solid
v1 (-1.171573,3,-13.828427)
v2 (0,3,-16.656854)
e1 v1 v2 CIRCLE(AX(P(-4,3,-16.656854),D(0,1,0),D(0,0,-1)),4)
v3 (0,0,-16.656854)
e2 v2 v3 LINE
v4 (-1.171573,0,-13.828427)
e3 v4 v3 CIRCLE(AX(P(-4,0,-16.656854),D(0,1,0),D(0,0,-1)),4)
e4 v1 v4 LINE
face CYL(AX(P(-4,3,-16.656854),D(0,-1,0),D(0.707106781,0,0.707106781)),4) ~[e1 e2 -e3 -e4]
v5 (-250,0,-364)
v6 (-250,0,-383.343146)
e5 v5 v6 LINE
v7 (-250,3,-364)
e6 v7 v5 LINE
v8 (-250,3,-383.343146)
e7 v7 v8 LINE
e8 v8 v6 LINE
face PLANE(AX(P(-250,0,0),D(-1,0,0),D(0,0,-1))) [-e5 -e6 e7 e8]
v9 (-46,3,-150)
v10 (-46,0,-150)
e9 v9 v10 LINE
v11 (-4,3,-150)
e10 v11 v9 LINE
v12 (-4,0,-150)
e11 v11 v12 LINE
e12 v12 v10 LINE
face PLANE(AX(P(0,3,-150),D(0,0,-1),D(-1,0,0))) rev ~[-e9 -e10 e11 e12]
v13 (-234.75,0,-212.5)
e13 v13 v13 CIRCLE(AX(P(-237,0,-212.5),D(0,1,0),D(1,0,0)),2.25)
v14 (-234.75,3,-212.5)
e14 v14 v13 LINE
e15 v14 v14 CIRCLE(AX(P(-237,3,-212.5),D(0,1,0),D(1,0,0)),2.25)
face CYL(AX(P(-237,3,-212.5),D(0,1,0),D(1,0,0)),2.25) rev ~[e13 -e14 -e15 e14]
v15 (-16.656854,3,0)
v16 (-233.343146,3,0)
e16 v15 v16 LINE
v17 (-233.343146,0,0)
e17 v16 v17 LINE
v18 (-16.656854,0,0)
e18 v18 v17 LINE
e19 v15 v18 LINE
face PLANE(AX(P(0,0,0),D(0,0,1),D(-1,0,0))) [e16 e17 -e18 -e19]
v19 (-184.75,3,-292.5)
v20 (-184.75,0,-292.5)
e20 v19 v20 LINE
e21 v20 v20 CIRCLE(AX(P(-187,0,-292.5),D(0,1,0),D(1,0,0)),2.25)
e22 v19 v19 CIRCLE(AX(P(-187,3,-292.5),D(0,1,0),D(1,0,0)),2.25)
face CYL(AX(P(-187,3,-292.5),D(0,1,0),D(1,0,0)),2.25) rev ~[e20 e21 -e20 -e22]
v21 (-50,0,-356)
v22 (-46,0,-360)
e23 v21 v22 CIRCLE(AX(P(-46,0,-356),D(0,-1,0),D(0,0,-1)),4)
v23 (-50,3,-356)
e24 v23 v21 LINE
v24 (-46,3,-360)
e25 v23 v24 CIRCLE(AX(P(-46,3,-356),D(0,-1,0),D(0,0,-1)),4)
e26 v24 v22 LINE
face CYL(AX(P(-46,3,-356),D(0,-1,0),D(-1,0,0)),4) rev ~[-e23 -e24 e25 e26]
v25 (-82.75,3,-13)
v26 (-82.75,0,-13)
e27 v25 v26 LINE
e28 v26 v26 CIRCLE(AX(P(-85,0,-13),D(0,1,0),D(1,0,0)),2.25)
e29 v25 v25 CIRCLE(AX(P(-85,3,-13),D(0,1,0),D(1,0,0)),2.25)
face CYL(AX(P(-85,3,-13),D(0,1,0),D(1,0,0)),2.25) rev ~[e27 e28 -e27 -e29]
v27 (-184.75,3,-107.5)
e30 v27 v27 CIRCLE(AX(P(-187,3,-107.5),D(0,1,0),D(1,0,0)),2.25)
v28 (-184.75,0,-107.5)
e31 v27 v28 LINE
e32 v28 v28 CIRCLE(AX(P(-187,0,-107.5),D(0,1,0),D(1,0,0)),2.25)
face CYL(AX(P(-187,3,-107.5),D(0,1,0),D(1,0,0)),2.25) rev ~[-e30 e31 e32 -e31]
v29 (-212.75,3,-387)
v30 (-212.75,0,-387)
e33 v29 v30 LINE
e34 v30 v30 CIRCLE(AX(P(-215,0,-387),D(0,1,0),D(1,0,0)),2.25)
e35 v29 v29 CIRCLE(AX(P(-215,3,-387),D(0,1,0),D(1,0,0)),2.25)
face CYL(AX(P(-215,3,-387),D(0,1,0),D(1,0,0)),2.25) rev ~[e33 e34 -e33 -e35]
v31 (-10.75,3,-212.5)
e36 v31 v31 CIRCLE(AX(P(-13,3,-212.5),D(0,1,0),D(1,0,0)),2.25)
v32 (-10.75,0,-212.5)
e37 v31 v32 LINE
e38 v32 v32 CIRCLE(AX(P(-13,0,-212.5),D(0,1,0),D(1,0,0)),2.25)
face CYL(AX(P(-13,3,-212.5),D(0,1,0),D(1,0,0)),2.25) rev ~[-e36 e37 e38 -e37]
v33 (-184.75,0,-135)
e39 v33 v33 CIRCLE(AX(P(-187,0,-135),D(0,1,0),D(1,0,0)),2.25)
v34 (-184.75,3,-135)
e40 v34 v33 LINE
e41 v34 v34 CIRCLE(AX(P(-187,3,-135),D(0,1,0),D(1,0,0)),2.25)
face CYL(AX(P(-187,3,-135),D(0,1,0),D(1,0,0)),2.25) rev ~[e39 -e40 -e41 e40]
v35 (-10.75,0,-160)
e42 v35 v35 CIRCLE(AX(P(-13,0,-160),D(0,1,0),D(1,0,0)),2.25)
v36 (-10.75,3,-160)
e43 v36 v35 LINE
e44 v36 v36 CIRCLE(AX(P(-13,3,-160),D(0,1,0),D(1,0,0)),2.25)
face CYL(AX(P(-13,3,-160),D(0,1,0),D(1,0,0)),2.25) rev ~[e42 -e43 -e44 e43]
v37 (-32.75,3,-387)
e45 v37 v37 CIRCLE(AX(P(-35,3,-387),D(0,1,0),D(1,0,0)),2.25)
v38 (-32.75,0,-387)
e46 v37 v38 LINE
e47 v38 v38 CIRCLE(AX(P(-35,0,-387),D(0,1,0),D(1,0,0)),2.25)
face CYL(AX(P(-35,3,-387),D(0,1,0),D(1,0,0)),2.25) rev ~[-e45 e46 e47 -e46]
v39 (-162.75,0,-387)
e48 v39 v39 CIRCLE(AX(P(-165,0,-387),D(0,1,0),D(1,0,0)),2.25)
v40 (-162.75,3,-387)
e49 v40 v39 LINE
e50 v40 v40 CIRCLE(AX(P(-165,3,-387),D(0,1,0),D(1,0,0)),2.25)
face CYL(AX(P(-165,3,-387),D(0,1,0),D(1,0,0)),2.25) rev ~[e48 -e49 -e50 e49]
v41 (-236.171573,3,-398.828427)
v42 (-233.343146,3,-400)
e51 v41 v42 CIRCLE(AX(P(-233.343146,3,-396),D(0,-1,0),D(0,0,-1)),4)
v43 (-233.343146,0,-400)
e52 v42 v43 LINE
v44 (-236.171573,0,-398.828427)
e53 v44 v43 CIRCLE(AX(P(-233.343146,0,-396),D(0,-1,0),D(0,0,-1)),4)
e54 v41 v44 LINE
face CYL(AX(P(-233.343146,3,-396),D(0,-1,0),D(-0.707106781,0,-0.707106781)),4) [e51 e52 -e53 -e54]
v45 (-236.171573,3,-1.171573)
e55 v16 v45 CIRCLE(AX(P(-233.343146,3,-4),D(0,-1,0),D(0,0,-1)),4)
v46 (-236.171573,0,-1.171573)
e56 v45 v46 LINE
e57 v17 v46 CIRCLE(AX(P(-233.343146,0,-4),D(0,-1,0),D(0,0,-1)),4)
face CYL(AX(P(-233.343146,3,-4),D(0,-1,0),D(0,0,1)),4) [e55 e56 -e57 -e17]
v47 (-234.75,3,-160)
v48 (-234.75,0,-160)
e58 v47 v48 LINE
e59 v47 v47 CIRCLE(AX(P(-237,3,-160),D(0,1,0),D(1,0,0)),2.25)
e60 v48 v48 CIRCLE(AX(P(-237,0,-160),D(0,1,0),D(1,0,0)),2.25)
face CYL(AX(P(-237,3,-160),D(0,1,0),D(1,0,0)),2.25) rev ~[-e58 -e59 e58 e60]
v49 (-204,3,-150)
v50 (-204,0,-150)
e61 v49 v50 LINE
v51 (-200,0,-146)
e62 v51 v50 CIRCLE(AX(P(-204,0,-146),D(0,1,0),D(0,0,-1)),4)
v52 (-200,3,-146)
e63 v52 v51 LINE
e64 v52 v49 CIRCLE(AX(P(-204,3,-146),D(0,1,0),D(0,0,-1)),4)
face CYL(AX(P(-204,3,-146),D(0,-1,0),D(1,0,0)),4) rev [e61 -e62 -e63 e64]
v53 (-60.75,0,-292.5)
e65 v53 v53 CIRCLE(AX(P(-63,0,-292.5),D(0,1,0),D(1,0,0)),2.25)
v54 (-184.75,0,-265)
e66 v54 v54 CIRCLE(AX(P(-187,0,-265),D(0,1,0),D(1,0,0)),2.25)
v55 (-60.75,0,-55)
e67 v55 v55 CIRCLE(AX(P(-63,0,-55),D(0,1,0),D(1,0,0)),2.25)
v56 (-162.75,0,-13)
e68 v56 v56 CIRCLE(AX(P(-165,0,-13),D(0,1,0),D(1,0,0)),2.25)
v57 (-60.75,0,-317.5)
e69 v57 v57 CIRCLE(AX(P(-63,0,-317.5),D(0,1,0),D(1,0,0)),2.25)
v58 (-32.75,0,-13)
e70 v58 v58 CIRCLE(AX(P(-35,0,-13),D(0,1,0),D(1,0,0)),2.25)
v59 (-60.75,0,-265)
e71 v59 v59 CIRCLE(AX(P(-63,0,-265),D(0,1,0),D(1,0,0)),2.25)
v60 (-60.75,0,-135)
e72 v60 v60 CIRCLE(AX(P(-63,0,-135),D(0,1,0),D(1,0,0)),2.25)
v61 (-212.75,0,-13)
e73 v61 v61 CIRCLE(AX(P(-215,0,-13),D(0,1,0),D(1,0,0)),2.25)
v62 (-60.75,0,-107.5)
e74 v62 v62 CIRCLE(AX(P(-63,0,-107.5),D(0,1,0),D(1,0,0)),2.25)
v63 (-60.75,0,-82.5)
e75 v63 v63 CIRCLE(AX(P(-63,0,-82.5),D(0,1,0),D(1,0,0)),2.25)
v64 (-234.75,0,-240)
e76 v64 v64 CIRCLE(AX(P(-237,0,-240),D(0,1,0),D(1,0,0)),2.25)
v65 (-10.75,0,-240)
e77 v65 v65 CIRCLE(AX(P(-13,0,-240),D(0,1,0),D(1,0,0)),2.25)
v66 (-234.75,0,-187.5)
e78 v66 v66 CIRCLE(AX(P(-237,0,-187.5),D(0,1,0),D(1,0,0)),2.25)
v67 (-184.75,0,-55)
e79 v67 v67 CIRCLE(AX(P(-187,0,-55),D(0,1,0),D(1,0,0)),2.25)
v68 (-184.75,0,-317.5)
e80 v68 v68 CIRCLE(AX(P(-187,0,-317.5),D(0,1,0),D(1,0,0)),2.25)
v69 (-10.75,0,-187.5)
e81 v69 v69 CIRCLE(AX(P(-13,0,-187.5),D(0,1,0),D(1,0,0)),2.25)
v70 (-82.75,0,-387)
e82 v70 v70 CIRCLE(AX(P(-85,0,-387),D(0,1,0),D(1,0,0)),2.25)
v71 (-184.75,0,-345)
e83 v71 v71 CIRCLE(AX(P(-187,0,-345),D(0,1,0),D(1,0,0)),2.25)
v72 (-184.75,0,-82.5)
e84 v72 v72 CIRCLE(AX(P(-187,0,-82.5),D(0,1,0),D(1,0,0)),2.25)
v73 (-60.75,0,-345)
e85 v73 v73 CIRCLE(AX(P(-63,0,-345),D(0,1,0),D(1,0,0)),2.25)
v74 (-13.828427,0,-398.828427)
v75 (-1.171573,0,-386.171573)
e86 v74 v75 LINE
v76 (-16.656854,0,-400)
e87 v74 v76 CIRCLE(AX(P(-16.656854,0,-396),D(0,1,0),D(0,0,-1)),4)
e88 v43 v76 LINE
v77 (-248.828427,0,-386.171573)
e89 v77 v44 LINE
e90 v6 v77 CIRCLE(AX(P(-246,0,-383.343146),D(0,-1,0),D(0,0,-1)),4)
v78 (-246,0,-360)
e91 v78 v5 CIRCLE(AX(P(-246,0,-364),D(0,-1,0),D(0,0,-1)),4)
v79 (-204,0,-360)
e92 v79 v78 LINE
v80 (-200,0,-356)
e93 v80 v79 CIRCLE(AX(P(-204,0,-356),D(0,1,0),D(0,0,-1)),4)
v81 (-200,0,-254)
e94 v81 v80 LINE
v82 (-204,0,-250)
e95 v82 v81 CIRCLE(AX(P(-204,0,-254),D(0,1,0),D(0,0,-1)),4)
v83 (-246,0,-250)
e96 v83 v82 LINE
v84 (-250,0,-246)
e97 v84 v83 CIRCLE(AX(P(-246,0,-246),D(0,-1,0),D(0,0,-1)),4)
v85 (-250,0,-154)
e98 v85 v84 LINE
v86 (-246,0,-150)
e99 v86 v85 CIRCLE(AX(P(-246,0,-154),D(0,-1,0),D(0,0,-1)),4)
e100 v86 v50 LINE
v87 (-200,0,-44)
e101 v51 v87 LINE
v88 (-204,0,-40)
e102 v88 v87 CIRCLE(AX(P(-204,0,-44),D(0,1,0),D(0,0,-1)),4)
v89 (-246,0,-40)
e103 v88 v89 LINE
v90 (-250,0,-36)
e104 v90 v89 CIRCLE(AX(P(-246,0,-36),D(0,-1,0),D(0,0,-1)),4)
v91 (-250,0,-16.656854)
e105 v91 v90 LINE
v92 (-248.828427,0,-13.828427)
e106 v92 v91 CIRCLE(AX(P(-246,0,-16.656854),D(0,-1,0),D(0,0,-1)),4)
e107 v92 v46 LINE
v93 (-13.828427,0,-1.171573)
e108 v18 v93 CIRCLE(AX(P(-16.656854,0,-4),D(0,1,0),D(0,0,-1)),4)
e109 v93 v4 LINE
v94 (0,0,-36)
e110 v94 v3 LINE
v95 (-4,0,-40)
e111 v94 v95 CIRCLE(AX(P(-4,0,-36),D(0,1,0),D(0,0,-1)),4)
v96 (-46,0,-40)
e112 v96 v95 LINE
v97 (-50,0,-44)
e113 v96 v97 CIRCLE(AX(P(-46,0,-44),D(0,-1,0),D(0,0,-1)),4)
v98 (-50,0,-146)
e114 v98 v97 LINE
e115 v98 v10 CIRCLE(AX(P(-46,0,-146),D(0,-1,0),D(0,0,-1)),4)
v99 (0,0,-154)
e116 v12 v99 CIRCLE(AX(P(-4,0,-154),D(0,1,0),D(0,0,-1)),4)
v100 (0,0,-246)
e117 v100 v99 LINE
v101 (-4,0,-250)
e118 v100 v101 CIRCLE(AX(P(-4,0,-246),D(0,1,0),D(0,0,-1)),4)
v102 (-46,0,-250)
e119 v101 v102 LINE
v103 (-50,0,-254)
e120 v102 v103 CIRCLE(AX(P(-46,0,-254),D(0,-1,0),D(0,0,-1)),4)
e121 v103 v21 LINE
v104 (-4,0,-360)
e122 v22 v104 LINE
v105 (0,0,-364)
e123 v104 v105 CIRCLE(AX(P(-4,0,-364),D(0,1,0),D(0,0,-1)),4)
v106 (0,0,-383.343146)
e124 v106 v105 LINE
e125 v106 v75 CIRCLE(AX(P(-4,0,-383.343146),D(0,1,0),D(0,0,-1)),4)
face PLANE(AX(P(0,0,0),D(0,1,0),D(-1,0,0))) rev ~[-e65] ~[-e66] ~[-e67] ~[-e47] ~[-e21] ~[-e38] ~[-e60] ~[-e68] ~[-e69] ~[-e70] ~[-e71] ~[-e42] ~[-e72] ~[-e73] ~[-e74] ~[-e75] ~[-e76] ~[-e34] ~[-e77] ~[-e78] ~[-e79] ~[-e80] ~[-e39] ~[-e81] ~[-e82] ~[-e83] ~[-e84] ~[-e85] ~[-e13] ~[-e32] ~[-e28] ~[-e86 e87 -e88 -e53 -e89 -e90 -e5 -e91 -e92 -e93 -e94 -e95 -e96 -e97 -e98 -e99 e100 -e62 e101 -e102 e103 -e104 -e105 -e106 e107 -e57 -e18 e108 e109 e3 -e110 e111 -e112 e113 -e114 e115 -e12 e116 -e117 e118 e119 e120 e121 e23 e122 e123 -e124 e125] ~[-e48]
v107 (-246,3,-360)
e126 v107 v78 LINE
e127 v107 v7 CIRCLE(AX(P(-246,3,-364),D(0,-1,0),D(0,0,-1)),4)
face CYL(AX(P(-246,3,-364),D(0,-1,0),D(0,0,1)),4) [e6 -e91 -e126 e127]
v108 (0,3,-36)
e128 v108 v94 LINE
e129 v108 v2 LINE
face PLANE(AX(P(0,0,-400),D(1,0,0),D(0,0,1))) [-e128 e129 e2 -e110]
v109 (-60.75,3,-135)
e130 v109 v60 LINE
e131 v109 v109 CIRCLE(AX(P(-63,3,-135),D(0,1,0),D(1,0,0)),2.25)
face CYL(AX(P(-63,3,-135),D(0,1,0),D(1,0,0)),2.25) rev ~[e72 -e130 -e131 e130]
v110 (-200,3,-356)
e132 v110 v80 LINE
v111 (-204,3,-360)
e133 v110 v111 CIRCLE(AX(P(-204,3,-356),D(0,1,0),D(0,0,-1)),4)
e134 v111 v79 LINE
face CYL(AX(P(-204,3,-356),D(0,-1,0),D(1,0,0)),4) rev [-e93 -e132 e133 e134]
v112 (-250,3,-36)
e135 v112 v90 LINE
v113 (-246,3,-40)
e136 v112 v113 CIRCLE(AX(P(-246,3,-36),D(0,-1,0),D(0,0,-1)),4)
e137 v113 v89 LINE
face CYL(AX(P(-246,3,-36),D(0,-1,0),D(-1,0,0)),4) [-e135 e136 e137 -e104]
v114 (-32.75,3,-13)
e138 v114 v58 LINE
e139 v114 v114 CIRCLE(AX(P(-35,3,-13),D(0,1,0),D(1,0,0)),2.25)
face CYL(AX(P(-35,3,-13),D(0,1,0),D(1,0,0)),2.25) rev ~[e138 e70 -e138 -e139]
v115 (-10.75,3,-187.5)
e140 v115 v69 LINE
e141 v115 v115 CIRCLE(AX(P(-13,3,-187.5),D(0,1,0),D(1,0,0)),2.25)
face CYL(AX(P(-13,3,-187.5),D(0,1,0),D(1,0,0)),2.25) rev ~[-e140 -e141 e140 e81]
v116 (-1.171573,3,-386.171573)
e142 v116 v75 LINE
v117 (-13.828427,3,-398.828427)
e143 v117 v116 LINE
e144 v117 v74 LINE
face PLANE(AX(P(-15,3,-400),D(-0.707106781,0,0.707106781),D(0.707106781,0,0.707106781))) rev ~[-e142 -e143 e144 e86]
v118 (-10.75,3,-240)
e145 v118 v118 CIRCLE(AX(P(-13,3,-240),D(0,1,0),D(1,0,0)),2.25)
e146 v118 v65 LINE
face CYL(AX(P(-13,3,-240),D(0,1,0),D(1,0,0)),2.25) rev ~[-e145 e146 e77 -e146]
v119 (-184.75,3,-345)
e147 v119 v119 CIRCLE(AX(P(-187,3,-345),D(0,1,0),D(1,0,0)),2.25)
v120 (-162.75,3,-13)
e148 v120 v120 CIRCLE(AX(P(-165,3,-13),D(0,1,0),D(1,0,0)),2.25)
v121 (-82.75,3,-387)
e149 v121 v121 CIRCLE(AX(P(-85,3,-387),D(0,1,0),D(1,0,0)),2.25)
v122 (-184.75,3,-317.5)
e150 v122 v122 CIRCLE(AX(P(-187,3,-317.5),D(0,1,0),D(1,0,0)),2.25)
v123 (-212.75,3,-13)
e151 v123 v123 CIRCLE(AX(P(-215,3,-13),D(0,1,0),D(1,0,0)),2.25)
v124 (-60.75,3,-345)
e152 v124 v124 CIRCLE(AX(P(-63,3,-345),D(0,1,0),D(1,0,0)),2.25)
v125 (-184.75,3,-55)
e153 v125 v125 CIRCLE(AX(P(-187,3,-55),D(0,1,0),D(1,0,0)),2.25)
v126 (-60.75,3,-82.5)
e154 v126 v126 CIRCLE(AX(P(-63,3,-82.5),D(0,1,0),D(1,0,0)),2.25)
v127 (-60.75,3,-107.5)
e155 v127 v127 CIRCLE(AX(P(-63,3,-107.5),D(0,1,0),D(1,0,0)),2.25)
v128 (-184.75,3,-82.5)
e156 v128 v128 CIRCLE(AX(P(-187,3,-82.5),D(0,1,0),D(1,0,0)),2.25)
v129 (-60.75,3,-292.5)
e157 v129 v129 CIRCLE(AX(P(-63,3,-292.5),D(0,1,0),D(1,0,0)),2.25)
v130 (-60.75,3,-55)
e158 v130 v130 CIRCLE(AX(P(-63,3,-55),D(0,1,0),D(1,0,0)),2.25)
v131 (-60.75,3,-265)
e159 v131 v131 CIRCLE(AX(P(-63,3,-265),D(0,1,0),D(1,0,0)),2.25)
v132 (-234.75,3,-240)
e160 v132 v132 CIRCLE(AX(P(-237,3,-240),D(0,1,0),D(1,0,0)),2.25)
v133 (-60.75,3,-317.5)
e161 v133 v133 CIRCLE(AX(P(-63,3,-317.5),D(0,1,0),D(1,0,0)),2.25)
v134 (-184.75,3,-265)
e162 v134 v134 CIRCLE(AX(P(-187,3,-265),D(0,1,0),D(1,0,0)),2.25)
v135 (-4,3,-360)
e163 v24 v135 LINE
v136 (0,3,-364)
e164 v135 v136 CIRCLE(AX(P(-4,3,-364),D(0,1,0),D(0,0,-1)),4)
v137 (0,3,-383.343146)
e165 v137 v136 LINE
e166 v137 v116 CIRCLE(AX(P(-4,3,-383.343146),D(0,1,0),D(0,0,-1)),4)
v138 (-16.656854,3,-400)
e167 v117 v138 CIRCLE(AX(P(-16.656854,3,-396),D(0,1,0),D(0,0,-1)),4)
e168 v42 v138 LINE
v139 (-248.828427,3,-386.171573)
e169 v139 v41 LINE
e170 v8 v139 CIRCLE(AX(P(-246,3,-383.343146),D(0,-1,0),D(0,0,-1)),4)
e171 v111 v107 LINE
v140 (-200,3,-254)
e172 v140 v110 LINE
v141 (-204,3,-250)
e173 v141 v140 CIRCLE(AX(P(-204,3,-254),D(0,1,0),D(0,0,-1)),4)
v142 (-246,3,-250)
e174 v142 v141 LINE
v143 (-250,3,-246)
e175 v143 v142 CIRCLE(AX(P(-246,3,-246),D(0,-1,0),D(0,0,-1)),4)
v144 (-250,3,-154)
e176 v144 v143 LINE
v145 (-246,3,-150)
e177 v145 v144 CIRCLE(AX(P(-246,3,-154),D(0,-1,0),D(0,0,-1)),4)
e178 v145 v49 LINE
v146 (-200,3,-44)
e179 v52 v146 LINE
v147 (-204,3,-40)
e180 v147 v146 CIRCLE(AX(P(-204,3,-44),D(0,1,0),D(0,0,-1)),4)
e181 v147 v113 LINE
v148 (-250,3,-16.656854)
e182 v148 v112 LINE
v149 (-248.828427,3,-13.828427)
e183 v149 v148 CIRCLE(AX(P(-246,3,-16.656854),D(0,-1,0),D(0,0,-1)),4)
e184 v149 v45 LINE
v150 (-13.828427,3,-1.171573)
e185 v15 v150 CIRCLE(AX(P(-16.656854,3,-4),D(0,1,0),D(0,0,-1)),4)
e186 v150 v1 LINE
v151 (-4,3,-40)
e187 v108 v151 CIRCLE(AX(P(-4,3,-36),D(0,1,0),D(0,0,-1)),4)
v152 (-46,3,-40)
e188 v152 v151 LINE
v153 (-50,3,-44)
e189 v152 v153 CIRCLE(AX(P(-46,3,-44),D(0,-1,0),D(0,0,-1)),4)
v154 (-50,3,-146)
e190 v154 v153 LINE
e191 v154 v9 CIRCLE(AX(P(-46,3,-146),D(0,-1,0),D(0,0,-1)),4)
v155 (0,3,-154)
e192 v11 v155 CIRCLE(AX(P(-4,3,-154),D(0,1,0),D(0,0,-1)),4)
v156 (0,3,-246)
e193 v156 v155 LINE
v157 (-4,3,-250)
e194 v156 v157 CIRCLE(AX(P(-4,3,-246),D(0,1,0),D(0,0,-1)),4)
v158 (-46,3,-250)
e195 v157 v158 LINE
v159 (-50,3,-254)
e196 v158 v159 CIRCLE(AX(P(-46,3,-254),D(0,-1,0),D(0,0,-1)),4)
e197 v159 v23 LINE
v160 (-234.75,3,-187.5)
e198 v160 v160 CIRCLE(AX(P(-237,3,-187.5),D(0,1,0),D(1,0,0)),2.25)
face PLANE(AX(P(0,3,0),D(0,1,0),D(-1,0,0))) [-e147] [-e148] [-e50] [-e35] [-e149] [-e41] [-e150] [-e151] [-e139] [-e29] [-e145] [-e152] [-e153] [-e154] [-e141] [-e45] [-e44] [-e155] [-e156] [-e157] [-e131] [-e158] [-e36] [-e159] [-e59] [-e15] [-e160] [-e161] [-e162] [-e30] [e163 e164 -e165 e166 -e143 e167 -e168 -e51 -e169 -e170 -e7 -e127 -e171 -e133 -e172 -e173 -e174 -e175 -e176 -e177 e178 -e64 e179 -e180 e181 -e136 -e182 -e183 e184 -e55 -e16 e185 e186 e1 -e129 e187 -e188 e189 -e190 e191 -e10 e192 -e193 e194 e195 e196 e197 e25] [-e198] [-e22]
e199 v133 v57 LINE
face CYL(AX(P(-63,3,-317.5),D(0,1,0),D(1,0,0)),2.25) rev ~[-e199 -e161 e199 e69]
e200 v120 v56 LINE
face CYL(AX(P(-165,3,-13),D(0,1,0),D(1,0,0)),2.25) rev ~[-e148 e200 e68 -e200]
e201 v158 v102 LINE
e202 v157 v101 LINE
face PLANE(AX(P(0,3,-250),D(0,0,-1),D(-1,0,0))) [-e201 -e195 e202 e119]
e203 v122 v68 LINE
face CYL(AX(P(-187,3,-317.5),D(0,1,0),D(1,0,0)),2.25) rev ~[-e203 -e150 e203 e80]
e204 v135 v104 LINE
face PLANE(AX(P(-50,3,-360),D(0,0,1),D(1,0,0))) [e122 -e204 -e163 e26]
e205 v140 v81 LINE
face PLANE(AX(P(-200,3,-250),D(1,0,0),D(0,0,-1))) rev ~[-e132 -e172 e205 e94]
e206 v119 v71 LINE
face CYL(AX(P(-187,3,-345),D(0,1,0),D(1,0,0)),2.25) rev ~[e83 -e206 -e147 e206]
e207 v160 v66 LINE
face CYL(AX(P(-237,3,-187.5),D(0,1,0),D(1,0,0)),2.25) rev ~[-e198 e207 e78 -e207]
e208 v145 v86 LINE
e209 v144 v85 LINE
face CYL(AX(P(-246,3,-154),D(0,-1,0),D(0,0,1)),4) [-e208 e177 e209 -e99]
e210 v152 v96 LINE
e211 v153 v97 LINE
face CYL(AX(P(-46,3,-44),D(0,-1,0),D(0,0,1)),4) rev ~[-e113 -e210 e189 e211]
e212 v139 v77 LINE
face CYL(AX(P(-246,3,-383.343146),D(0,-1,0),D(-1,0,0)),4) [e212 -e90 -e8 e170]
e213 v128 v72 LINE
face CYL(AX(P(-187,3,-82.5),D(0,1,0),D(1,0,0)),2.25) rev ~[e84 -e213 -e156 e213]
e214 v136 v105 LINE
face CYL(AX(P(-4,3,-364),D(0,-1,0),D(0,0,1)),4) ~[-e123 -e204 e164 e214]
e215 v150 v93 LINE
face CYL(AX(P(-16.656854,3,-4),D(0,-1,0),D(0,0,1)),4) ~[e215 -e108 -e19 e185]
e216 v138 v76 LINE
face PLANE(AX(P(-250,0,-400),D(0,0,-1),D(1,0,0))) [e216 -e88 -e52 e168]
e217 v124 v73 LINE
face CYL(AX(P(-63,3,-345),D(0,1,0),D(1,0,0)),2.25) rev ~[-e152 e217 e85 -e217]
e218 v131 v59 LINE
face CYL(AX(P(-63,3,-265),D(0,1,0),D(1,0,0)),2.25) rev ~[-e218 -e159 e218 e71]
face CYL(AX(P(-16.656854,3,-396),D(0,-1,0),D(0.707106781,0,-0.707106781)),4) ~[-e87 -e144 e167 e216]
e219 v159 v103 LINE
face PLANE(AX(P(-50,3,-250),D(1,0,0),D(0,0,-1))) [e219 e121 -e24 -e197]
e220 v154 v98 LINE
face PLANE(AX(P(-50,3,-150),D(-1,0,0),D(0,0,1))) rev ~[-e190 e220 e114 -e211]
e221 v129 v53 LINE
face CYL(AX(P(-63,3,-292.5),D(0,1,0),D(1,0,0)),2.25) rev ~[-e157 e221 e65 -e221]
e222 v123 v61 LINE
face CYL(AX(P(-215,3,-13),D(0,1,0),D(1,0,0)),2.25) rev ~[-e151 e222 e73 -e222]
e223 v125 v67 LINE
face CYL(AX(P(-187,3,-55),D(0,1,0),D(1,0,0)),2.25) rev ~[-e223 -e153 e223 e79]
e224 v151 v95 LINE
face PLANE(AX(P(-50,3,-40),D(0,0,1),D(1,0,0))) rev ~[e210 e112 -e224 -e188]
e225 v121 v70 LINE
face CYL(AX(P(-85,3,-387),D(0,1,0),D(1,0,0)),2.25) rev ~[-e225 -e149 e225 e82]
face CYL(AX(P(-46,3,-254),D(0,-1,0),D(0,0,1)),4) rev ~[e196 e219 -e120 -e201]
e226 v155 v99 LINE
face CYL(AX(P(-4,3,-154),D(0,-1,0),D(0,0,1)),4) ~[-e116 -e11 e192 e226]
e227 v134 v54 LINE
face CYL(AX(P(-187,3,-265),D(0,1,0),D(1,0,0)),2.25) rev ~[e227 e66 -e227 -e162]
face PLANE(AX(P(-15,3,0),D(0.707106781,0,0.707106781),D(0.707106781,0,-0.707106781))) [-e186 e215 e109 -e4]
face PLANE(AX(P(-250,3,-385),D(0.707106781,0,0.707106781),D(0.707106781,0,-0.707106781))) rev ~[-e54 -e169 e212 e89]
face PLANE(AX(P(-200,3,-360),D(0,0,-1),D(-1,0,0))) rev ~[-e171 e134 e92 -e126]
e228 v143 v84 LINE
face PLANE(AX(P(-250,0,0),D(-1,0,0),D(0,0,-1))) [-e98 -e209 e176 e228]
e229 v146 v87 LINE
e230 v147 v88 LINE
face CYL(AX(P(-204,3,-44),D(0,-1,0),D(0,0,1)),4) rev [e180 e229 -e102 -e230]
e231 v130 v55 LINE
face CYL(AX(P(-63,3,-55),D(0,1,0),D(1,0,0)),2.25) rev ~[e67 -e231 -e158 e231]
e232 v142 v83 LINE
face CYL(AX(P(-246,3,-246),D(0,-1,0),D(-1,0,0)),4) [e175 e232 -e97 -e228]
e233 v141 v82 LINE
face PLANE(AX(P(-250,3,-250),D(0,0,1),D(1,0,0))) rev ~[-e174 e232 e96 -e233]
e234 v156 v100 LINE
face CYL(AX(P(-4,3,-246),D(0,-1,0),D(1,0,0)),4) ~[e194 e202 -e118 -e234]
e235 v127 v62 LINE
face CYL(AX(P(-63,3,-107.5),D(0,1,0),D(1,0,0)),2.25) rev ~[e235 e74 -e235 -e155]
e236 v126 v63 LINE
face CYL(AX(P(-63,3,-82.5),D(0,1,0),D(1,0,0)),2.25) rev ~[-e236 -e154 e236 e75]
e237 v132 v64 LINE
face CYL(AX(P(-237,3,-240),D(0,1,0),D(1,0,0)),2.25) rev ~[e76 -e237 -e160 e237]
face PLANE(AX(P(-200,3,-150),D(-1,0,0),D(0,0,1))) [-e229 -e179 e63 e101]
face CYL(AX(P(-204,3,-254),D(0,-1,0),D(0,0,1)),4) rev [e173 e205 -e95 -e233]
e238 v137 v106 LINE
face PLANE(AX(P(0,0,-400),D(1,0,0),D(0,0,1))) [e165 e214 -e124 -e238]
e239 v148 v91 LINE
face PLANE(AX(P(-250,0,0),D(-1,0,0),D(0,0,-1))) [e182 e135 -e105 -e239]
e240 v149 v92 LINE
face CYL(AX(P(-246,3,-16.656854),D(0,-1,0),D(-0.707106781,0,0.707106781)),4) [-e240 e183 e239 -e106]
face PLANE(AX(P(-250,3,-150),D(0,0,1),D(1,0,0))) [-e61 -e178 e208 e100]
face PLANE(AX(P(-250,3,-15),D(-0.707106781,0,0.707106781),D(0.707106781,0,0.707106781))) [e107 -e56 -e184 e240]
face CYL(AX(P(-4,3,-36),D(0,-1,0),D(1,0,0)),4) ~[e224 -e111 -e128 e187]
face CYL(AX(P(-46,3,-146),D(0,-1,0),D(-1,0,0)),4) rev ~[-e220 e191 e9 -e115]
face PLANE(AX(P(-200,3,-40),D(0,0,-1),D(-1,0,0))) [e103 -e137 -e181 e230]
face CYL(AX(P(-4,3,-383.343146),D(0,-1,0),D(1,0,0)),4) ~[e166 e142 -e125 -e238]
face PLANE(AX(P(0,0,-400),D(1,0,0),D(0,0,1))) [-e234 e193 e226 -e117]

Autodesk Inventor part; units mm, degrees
ref_plane "YZ Plane" through (0, 0, 0) normal (1, 0, 0) x (0, 1, 0)
ref_plane "XZ Plane" through (0, 0, 0) normal (0, 1, 0) x (-1, 0, 0)
ref_plane "XY Plane" through (0, 0, 0) normal (0, 0, 1) x (1, 0, 0)
sketch "Skizze1" plane through (0, 0, 0) normal (0, 1, 0) x (-1, 0, 0)
  line L0 (0, 0) -> (250, 0)
  line L1 (250, 0) -> (250, -400)
  line L2 (250, -400) -> (0, -400)
  line L3 (0, -400) -> (0, 0)
  dimension "d0" = 400
  dimension "d1" = 250
extrude "Extrusion1" add sketch "Skizze1" along normal blind 3
sketch "Skizze7" plane through (0, 3, 0) normal (0, 1, 0) x (1, 0, 0)
  line L0 (-250, 400) -> (-250, 0) projected
  line L1 (-250, 15) -> (-235, 0)
  line L2 (-250, 0) -> (0, 0) projected
  line L3 (-250, 15) -> (-250, 0)
  line L4 (-250, 0) -> (-235, 0)
  line L5 (0, 0) -> (0, 400) projected
  line L6 (0, 0) -> (-15, 0)
  line L7 (-15, 0) -> (0, 15)
  line L8 (-250, 400) -> (-250, 0) projected
  line L9 (-250, 200) -> (0, 200)
  line L10 (0, 0) -> (0, 400) projected
  line L11 (-125, 0) -> (-125, 400)
  line L12 (0, 400) -> (-250, 400) projected
  line L13 (0, 0) -> (0, 15)
  line L14 (-250, 385) -> (-235, 400)
  line L15 (-250, 385) -> (-250, 400)
  line L16 (-250, 400) -> (-235, 400)
  line L17 (0, 400) -> (-15, 400)
  line L18 (-15, 400) -> (0, 385)
  line L19 (0, 400) -> (0, 385)
  point P0 (-200, 30)
  point P1 (0, 30)
  point P2 (-200, 290)
  point P3 (-200, 110)
  point P4 (0, 110)
  point P5 (0, 290)
  point P6 (-235, 400)
  point P7 (-15, 400)
  point P8 (-15, 0)
  dimension "d57" = 15
  dimension "d58" = 15
extrude "Extrusion7" cut sketch "Skizze7" against normal blind 10 contours L12 L14 L0 | L1 L2 L0 | L12 L5 L18 | L5 L2 L7
sketch "Skizze6" plane through (0, 3, 0) normal (0, 1, 0) x (1, 0, 0)
  line L0 (-200, 40) -> (-200, 40)
  line L1 (-250, 0) -> (0, 0) projected
  line L2 (0, 400) -> (-250, 400) projected
  line L3 (0, 40) -> (0, 40)
  line L4 (-250, 400) -> (-250, 0) projected
  line L5 (-250, 250) -> (-200, 250)
  line L6 (-200, 250) -> (-200, 360)
  line L7 (-200, 360) -> (-250, 360)
  line L8 (-250, 360) -> (-250, 250)
  line L9 (-125, 400) -> (-125, 0)
  line L10 (0, 0) -> (0, 400) projected
  line L11 (0, 200) -> (-250, 200)
  line L12 (0, 400) -> (0, 0)
  line L13 (0, 250) -> (-50, 250)
  line L14 (-50, 250) -> (-50, 360)
  line L15 (-50, 360) -> (0, 360)
  line L16 (-250, 0) -> (-250, 400)
  line L17 (-250, 150) -> (-200, 150)
  line L18 (-200, 150) -> (-200, 40)
  line L19 (-200, 40) -> (-250, 40)
  line L20 (0, 400) -> (0, 0)
  line L21 (-50, 40) -> (0, 40)
  line L22 (-50, 150) -> (-50, 40)
  line L23 (0, 150) -> (-50, 150)
  point P0 (-25, 40)
  point P1 (0, 250)
  point P2 (0, 360)
  point P3 (0, 150)
  dimension "d74" = 110
  dimension "d75" = 40
  dimension "d76" = 50
  dimension "d77" = 110
  dimension "d78" = 50
  dimension "d79" = 110
  dimension "d80" = 50
extrude "Extrusion11" cut sketch "Skizze6" against normal blind 10 contours L4 L17 L18 L19 | L21 L22 L23 L10 | L13 L14 L15 L10 | L4 L7 L6 L5
sketch "Skizze9" plane through (0, 3, 0) normal (0, 1, 0) x (1, 0, 0)
  line L0 (-235, 0) -> (-15, 0) projected
  line L1 (-125, 0) -> (-125, 400)
  line L2 (-15, 400) -> (-235, 400) projected
  line L3 (0, 150) -> (0, 250) projected
  line L4 (0, 200) -> (-250, 200)
  line L5 (-250, 250) -> (-250, 150) projected
  line L6 (-200, 250) -> (-250, 250) projected
  line L7 (-237, 250) -> (-237, 150) construction
  circle A0 centre (-237, 240) radius 2.25
  circle A1 centre (-237, 212.5) radius 2.25
  circle A2 centre (-237, 187.5) radius 2.25
  circle A3 centre (-237, 160) radius 2.25
  circle A4 centre (-13, 240) radius 2.25
  circle A5 centre (-13, 212.5) radius 2.25
  circle A6 centre (-13, 187.5) radius 2.25
  circle A7 centre (-13, 160) radius 2.25
  line L8 (-187, 400) -> (-187, 0) construction
  line L9 (-200, 150) -> (-200, 40) projected
  circle A8 centre (-187, 55) radius 2.25
  circle A9 centre (-187, 82.5) radius 2.25
  circle A10 centre (-187, 107.5) radius 2.25
  circle A11 centre (-187, 135) radius 2.25
  line L10 (-50, 40) -> (-50, 150) projected
  line L11 (-50, 95) -> (-200, 95) construction
  circle A12 centre (-63, 55) radius 2.25
  circle A13 centre (-63, 82.5) radius 2.25
  circle A14 centre (-63, 107.5) radius 2.25
  circle A15 centre (-63, 135) radius 2.25
  circle A16 centre (-187, 345) radius 2.25
  circle A17 centre (-187, 317.5) radius 2.25
  circle A18 centre (-187, 292.5) radius 2.25
  circle A19 centre (-187, 265) radius 2.25
  circle A20 centre (-63, 345) radius 2.25
  circle A21 centre (-63, 317.5) radius 2.25
  circle A22 centre (-63, 292.5) radius 2.25
  circle A23 centre (-63, 265) radius 2.25
  line L12 (0, 15) -> (0, 40) projected
  line L13 (0, 13) -> (-250, 13) construction
  line L14 (-250, 40) -> (-250, 15) projected
  circle A24 centre (-35, 13) radius 2.25
  circle A25 centre (-85, 13) radius 2.25
  circle A26 centre (-165, 13) radius 2.25
  circle A27 centre (-215, 13) radius 2.25
  circle A28 centre (-35, 387) radius 2.25
  circle A29 centre (-85, 387) radius 2.25
  circle A30 centre (-165, 387) radius 2.25
  circle A31 centre (-215, 387) radius 2.25
  point P0 (0, 0)
  dimension "d85" = 13
  dimension "d86" = 4.5
  dimension "d87" = 4.5
  dimension "d88" = 4.5
  dimension "d89" = 4.5
  dimension "d90" = 25
  dimension "d91" = 80
  dimension "d92" = 13
  dimension "d93" = 4.5
  dimension "d94" = 4.5
  dimension "d95" = 4.5
  dimension "d96" = 4.5
  dimension "d97" = 25
  dimension "d98" = 80
  dimension "d99" = 13
  dimension "d100" = 4.5
  dimension "d101" = 4.5
  dimension "d102" = 4.5
  dimension "d103" = 4.5
  dimension "d104" = 80
  dimension "d105" = 180
extrude "Extrusion12" cut sketch "Skizze9" against normal blind 10
fillet "Rundung1" radius 4 24 edges at (-235, 1.5, -400) (-250, 1.5, -385) (-250, 1.5, -360) (-200, 1.5, -360) (-200, 1.5, -250) (-250, 1.5, -250) (-250, 1.5, -150) (-200, 1.5, -150) (-250, 1.5, -40) (-200, 1.5, -40) (-250, 1.5, -15) (-235, 1.5, 0) (-15, 1.5, 0) (0, 1.5, -15) (0, 1.5, -40) (-50, 1.5, -150) (0, 1.5, -150) (-50, 1.5, -40) (0, 1.5, -250) (-50, 1.5, -250) (-15, 1.5, -400) (0, 1.5, -385) (0, 1.5, -360) (-50, 1.5, -360)
equation "\"Biegeradius\" = Stärke"
equation "\"BreiteBiegungsfreistellung\" = Stärke"
equation "\"TiefeBiegungsfreistellung\" = 0.5 * Stärke"
equation "\"GrößeEckenfreistellung\" = 4 * Stärke"
equation "\"MinimalRest\" = 2 * Stärke"
equation "\"Übergangsradius\" = Biegeradius"
equation "\"JacobiRadiusGröße\" = Biegeradius"
equation "\"Abstandsgröße\" = Stärke"
equation "\"Stärke\" = 3.048"
properties part number "Grundgehäuse_01" material "Aluminium 6061"
